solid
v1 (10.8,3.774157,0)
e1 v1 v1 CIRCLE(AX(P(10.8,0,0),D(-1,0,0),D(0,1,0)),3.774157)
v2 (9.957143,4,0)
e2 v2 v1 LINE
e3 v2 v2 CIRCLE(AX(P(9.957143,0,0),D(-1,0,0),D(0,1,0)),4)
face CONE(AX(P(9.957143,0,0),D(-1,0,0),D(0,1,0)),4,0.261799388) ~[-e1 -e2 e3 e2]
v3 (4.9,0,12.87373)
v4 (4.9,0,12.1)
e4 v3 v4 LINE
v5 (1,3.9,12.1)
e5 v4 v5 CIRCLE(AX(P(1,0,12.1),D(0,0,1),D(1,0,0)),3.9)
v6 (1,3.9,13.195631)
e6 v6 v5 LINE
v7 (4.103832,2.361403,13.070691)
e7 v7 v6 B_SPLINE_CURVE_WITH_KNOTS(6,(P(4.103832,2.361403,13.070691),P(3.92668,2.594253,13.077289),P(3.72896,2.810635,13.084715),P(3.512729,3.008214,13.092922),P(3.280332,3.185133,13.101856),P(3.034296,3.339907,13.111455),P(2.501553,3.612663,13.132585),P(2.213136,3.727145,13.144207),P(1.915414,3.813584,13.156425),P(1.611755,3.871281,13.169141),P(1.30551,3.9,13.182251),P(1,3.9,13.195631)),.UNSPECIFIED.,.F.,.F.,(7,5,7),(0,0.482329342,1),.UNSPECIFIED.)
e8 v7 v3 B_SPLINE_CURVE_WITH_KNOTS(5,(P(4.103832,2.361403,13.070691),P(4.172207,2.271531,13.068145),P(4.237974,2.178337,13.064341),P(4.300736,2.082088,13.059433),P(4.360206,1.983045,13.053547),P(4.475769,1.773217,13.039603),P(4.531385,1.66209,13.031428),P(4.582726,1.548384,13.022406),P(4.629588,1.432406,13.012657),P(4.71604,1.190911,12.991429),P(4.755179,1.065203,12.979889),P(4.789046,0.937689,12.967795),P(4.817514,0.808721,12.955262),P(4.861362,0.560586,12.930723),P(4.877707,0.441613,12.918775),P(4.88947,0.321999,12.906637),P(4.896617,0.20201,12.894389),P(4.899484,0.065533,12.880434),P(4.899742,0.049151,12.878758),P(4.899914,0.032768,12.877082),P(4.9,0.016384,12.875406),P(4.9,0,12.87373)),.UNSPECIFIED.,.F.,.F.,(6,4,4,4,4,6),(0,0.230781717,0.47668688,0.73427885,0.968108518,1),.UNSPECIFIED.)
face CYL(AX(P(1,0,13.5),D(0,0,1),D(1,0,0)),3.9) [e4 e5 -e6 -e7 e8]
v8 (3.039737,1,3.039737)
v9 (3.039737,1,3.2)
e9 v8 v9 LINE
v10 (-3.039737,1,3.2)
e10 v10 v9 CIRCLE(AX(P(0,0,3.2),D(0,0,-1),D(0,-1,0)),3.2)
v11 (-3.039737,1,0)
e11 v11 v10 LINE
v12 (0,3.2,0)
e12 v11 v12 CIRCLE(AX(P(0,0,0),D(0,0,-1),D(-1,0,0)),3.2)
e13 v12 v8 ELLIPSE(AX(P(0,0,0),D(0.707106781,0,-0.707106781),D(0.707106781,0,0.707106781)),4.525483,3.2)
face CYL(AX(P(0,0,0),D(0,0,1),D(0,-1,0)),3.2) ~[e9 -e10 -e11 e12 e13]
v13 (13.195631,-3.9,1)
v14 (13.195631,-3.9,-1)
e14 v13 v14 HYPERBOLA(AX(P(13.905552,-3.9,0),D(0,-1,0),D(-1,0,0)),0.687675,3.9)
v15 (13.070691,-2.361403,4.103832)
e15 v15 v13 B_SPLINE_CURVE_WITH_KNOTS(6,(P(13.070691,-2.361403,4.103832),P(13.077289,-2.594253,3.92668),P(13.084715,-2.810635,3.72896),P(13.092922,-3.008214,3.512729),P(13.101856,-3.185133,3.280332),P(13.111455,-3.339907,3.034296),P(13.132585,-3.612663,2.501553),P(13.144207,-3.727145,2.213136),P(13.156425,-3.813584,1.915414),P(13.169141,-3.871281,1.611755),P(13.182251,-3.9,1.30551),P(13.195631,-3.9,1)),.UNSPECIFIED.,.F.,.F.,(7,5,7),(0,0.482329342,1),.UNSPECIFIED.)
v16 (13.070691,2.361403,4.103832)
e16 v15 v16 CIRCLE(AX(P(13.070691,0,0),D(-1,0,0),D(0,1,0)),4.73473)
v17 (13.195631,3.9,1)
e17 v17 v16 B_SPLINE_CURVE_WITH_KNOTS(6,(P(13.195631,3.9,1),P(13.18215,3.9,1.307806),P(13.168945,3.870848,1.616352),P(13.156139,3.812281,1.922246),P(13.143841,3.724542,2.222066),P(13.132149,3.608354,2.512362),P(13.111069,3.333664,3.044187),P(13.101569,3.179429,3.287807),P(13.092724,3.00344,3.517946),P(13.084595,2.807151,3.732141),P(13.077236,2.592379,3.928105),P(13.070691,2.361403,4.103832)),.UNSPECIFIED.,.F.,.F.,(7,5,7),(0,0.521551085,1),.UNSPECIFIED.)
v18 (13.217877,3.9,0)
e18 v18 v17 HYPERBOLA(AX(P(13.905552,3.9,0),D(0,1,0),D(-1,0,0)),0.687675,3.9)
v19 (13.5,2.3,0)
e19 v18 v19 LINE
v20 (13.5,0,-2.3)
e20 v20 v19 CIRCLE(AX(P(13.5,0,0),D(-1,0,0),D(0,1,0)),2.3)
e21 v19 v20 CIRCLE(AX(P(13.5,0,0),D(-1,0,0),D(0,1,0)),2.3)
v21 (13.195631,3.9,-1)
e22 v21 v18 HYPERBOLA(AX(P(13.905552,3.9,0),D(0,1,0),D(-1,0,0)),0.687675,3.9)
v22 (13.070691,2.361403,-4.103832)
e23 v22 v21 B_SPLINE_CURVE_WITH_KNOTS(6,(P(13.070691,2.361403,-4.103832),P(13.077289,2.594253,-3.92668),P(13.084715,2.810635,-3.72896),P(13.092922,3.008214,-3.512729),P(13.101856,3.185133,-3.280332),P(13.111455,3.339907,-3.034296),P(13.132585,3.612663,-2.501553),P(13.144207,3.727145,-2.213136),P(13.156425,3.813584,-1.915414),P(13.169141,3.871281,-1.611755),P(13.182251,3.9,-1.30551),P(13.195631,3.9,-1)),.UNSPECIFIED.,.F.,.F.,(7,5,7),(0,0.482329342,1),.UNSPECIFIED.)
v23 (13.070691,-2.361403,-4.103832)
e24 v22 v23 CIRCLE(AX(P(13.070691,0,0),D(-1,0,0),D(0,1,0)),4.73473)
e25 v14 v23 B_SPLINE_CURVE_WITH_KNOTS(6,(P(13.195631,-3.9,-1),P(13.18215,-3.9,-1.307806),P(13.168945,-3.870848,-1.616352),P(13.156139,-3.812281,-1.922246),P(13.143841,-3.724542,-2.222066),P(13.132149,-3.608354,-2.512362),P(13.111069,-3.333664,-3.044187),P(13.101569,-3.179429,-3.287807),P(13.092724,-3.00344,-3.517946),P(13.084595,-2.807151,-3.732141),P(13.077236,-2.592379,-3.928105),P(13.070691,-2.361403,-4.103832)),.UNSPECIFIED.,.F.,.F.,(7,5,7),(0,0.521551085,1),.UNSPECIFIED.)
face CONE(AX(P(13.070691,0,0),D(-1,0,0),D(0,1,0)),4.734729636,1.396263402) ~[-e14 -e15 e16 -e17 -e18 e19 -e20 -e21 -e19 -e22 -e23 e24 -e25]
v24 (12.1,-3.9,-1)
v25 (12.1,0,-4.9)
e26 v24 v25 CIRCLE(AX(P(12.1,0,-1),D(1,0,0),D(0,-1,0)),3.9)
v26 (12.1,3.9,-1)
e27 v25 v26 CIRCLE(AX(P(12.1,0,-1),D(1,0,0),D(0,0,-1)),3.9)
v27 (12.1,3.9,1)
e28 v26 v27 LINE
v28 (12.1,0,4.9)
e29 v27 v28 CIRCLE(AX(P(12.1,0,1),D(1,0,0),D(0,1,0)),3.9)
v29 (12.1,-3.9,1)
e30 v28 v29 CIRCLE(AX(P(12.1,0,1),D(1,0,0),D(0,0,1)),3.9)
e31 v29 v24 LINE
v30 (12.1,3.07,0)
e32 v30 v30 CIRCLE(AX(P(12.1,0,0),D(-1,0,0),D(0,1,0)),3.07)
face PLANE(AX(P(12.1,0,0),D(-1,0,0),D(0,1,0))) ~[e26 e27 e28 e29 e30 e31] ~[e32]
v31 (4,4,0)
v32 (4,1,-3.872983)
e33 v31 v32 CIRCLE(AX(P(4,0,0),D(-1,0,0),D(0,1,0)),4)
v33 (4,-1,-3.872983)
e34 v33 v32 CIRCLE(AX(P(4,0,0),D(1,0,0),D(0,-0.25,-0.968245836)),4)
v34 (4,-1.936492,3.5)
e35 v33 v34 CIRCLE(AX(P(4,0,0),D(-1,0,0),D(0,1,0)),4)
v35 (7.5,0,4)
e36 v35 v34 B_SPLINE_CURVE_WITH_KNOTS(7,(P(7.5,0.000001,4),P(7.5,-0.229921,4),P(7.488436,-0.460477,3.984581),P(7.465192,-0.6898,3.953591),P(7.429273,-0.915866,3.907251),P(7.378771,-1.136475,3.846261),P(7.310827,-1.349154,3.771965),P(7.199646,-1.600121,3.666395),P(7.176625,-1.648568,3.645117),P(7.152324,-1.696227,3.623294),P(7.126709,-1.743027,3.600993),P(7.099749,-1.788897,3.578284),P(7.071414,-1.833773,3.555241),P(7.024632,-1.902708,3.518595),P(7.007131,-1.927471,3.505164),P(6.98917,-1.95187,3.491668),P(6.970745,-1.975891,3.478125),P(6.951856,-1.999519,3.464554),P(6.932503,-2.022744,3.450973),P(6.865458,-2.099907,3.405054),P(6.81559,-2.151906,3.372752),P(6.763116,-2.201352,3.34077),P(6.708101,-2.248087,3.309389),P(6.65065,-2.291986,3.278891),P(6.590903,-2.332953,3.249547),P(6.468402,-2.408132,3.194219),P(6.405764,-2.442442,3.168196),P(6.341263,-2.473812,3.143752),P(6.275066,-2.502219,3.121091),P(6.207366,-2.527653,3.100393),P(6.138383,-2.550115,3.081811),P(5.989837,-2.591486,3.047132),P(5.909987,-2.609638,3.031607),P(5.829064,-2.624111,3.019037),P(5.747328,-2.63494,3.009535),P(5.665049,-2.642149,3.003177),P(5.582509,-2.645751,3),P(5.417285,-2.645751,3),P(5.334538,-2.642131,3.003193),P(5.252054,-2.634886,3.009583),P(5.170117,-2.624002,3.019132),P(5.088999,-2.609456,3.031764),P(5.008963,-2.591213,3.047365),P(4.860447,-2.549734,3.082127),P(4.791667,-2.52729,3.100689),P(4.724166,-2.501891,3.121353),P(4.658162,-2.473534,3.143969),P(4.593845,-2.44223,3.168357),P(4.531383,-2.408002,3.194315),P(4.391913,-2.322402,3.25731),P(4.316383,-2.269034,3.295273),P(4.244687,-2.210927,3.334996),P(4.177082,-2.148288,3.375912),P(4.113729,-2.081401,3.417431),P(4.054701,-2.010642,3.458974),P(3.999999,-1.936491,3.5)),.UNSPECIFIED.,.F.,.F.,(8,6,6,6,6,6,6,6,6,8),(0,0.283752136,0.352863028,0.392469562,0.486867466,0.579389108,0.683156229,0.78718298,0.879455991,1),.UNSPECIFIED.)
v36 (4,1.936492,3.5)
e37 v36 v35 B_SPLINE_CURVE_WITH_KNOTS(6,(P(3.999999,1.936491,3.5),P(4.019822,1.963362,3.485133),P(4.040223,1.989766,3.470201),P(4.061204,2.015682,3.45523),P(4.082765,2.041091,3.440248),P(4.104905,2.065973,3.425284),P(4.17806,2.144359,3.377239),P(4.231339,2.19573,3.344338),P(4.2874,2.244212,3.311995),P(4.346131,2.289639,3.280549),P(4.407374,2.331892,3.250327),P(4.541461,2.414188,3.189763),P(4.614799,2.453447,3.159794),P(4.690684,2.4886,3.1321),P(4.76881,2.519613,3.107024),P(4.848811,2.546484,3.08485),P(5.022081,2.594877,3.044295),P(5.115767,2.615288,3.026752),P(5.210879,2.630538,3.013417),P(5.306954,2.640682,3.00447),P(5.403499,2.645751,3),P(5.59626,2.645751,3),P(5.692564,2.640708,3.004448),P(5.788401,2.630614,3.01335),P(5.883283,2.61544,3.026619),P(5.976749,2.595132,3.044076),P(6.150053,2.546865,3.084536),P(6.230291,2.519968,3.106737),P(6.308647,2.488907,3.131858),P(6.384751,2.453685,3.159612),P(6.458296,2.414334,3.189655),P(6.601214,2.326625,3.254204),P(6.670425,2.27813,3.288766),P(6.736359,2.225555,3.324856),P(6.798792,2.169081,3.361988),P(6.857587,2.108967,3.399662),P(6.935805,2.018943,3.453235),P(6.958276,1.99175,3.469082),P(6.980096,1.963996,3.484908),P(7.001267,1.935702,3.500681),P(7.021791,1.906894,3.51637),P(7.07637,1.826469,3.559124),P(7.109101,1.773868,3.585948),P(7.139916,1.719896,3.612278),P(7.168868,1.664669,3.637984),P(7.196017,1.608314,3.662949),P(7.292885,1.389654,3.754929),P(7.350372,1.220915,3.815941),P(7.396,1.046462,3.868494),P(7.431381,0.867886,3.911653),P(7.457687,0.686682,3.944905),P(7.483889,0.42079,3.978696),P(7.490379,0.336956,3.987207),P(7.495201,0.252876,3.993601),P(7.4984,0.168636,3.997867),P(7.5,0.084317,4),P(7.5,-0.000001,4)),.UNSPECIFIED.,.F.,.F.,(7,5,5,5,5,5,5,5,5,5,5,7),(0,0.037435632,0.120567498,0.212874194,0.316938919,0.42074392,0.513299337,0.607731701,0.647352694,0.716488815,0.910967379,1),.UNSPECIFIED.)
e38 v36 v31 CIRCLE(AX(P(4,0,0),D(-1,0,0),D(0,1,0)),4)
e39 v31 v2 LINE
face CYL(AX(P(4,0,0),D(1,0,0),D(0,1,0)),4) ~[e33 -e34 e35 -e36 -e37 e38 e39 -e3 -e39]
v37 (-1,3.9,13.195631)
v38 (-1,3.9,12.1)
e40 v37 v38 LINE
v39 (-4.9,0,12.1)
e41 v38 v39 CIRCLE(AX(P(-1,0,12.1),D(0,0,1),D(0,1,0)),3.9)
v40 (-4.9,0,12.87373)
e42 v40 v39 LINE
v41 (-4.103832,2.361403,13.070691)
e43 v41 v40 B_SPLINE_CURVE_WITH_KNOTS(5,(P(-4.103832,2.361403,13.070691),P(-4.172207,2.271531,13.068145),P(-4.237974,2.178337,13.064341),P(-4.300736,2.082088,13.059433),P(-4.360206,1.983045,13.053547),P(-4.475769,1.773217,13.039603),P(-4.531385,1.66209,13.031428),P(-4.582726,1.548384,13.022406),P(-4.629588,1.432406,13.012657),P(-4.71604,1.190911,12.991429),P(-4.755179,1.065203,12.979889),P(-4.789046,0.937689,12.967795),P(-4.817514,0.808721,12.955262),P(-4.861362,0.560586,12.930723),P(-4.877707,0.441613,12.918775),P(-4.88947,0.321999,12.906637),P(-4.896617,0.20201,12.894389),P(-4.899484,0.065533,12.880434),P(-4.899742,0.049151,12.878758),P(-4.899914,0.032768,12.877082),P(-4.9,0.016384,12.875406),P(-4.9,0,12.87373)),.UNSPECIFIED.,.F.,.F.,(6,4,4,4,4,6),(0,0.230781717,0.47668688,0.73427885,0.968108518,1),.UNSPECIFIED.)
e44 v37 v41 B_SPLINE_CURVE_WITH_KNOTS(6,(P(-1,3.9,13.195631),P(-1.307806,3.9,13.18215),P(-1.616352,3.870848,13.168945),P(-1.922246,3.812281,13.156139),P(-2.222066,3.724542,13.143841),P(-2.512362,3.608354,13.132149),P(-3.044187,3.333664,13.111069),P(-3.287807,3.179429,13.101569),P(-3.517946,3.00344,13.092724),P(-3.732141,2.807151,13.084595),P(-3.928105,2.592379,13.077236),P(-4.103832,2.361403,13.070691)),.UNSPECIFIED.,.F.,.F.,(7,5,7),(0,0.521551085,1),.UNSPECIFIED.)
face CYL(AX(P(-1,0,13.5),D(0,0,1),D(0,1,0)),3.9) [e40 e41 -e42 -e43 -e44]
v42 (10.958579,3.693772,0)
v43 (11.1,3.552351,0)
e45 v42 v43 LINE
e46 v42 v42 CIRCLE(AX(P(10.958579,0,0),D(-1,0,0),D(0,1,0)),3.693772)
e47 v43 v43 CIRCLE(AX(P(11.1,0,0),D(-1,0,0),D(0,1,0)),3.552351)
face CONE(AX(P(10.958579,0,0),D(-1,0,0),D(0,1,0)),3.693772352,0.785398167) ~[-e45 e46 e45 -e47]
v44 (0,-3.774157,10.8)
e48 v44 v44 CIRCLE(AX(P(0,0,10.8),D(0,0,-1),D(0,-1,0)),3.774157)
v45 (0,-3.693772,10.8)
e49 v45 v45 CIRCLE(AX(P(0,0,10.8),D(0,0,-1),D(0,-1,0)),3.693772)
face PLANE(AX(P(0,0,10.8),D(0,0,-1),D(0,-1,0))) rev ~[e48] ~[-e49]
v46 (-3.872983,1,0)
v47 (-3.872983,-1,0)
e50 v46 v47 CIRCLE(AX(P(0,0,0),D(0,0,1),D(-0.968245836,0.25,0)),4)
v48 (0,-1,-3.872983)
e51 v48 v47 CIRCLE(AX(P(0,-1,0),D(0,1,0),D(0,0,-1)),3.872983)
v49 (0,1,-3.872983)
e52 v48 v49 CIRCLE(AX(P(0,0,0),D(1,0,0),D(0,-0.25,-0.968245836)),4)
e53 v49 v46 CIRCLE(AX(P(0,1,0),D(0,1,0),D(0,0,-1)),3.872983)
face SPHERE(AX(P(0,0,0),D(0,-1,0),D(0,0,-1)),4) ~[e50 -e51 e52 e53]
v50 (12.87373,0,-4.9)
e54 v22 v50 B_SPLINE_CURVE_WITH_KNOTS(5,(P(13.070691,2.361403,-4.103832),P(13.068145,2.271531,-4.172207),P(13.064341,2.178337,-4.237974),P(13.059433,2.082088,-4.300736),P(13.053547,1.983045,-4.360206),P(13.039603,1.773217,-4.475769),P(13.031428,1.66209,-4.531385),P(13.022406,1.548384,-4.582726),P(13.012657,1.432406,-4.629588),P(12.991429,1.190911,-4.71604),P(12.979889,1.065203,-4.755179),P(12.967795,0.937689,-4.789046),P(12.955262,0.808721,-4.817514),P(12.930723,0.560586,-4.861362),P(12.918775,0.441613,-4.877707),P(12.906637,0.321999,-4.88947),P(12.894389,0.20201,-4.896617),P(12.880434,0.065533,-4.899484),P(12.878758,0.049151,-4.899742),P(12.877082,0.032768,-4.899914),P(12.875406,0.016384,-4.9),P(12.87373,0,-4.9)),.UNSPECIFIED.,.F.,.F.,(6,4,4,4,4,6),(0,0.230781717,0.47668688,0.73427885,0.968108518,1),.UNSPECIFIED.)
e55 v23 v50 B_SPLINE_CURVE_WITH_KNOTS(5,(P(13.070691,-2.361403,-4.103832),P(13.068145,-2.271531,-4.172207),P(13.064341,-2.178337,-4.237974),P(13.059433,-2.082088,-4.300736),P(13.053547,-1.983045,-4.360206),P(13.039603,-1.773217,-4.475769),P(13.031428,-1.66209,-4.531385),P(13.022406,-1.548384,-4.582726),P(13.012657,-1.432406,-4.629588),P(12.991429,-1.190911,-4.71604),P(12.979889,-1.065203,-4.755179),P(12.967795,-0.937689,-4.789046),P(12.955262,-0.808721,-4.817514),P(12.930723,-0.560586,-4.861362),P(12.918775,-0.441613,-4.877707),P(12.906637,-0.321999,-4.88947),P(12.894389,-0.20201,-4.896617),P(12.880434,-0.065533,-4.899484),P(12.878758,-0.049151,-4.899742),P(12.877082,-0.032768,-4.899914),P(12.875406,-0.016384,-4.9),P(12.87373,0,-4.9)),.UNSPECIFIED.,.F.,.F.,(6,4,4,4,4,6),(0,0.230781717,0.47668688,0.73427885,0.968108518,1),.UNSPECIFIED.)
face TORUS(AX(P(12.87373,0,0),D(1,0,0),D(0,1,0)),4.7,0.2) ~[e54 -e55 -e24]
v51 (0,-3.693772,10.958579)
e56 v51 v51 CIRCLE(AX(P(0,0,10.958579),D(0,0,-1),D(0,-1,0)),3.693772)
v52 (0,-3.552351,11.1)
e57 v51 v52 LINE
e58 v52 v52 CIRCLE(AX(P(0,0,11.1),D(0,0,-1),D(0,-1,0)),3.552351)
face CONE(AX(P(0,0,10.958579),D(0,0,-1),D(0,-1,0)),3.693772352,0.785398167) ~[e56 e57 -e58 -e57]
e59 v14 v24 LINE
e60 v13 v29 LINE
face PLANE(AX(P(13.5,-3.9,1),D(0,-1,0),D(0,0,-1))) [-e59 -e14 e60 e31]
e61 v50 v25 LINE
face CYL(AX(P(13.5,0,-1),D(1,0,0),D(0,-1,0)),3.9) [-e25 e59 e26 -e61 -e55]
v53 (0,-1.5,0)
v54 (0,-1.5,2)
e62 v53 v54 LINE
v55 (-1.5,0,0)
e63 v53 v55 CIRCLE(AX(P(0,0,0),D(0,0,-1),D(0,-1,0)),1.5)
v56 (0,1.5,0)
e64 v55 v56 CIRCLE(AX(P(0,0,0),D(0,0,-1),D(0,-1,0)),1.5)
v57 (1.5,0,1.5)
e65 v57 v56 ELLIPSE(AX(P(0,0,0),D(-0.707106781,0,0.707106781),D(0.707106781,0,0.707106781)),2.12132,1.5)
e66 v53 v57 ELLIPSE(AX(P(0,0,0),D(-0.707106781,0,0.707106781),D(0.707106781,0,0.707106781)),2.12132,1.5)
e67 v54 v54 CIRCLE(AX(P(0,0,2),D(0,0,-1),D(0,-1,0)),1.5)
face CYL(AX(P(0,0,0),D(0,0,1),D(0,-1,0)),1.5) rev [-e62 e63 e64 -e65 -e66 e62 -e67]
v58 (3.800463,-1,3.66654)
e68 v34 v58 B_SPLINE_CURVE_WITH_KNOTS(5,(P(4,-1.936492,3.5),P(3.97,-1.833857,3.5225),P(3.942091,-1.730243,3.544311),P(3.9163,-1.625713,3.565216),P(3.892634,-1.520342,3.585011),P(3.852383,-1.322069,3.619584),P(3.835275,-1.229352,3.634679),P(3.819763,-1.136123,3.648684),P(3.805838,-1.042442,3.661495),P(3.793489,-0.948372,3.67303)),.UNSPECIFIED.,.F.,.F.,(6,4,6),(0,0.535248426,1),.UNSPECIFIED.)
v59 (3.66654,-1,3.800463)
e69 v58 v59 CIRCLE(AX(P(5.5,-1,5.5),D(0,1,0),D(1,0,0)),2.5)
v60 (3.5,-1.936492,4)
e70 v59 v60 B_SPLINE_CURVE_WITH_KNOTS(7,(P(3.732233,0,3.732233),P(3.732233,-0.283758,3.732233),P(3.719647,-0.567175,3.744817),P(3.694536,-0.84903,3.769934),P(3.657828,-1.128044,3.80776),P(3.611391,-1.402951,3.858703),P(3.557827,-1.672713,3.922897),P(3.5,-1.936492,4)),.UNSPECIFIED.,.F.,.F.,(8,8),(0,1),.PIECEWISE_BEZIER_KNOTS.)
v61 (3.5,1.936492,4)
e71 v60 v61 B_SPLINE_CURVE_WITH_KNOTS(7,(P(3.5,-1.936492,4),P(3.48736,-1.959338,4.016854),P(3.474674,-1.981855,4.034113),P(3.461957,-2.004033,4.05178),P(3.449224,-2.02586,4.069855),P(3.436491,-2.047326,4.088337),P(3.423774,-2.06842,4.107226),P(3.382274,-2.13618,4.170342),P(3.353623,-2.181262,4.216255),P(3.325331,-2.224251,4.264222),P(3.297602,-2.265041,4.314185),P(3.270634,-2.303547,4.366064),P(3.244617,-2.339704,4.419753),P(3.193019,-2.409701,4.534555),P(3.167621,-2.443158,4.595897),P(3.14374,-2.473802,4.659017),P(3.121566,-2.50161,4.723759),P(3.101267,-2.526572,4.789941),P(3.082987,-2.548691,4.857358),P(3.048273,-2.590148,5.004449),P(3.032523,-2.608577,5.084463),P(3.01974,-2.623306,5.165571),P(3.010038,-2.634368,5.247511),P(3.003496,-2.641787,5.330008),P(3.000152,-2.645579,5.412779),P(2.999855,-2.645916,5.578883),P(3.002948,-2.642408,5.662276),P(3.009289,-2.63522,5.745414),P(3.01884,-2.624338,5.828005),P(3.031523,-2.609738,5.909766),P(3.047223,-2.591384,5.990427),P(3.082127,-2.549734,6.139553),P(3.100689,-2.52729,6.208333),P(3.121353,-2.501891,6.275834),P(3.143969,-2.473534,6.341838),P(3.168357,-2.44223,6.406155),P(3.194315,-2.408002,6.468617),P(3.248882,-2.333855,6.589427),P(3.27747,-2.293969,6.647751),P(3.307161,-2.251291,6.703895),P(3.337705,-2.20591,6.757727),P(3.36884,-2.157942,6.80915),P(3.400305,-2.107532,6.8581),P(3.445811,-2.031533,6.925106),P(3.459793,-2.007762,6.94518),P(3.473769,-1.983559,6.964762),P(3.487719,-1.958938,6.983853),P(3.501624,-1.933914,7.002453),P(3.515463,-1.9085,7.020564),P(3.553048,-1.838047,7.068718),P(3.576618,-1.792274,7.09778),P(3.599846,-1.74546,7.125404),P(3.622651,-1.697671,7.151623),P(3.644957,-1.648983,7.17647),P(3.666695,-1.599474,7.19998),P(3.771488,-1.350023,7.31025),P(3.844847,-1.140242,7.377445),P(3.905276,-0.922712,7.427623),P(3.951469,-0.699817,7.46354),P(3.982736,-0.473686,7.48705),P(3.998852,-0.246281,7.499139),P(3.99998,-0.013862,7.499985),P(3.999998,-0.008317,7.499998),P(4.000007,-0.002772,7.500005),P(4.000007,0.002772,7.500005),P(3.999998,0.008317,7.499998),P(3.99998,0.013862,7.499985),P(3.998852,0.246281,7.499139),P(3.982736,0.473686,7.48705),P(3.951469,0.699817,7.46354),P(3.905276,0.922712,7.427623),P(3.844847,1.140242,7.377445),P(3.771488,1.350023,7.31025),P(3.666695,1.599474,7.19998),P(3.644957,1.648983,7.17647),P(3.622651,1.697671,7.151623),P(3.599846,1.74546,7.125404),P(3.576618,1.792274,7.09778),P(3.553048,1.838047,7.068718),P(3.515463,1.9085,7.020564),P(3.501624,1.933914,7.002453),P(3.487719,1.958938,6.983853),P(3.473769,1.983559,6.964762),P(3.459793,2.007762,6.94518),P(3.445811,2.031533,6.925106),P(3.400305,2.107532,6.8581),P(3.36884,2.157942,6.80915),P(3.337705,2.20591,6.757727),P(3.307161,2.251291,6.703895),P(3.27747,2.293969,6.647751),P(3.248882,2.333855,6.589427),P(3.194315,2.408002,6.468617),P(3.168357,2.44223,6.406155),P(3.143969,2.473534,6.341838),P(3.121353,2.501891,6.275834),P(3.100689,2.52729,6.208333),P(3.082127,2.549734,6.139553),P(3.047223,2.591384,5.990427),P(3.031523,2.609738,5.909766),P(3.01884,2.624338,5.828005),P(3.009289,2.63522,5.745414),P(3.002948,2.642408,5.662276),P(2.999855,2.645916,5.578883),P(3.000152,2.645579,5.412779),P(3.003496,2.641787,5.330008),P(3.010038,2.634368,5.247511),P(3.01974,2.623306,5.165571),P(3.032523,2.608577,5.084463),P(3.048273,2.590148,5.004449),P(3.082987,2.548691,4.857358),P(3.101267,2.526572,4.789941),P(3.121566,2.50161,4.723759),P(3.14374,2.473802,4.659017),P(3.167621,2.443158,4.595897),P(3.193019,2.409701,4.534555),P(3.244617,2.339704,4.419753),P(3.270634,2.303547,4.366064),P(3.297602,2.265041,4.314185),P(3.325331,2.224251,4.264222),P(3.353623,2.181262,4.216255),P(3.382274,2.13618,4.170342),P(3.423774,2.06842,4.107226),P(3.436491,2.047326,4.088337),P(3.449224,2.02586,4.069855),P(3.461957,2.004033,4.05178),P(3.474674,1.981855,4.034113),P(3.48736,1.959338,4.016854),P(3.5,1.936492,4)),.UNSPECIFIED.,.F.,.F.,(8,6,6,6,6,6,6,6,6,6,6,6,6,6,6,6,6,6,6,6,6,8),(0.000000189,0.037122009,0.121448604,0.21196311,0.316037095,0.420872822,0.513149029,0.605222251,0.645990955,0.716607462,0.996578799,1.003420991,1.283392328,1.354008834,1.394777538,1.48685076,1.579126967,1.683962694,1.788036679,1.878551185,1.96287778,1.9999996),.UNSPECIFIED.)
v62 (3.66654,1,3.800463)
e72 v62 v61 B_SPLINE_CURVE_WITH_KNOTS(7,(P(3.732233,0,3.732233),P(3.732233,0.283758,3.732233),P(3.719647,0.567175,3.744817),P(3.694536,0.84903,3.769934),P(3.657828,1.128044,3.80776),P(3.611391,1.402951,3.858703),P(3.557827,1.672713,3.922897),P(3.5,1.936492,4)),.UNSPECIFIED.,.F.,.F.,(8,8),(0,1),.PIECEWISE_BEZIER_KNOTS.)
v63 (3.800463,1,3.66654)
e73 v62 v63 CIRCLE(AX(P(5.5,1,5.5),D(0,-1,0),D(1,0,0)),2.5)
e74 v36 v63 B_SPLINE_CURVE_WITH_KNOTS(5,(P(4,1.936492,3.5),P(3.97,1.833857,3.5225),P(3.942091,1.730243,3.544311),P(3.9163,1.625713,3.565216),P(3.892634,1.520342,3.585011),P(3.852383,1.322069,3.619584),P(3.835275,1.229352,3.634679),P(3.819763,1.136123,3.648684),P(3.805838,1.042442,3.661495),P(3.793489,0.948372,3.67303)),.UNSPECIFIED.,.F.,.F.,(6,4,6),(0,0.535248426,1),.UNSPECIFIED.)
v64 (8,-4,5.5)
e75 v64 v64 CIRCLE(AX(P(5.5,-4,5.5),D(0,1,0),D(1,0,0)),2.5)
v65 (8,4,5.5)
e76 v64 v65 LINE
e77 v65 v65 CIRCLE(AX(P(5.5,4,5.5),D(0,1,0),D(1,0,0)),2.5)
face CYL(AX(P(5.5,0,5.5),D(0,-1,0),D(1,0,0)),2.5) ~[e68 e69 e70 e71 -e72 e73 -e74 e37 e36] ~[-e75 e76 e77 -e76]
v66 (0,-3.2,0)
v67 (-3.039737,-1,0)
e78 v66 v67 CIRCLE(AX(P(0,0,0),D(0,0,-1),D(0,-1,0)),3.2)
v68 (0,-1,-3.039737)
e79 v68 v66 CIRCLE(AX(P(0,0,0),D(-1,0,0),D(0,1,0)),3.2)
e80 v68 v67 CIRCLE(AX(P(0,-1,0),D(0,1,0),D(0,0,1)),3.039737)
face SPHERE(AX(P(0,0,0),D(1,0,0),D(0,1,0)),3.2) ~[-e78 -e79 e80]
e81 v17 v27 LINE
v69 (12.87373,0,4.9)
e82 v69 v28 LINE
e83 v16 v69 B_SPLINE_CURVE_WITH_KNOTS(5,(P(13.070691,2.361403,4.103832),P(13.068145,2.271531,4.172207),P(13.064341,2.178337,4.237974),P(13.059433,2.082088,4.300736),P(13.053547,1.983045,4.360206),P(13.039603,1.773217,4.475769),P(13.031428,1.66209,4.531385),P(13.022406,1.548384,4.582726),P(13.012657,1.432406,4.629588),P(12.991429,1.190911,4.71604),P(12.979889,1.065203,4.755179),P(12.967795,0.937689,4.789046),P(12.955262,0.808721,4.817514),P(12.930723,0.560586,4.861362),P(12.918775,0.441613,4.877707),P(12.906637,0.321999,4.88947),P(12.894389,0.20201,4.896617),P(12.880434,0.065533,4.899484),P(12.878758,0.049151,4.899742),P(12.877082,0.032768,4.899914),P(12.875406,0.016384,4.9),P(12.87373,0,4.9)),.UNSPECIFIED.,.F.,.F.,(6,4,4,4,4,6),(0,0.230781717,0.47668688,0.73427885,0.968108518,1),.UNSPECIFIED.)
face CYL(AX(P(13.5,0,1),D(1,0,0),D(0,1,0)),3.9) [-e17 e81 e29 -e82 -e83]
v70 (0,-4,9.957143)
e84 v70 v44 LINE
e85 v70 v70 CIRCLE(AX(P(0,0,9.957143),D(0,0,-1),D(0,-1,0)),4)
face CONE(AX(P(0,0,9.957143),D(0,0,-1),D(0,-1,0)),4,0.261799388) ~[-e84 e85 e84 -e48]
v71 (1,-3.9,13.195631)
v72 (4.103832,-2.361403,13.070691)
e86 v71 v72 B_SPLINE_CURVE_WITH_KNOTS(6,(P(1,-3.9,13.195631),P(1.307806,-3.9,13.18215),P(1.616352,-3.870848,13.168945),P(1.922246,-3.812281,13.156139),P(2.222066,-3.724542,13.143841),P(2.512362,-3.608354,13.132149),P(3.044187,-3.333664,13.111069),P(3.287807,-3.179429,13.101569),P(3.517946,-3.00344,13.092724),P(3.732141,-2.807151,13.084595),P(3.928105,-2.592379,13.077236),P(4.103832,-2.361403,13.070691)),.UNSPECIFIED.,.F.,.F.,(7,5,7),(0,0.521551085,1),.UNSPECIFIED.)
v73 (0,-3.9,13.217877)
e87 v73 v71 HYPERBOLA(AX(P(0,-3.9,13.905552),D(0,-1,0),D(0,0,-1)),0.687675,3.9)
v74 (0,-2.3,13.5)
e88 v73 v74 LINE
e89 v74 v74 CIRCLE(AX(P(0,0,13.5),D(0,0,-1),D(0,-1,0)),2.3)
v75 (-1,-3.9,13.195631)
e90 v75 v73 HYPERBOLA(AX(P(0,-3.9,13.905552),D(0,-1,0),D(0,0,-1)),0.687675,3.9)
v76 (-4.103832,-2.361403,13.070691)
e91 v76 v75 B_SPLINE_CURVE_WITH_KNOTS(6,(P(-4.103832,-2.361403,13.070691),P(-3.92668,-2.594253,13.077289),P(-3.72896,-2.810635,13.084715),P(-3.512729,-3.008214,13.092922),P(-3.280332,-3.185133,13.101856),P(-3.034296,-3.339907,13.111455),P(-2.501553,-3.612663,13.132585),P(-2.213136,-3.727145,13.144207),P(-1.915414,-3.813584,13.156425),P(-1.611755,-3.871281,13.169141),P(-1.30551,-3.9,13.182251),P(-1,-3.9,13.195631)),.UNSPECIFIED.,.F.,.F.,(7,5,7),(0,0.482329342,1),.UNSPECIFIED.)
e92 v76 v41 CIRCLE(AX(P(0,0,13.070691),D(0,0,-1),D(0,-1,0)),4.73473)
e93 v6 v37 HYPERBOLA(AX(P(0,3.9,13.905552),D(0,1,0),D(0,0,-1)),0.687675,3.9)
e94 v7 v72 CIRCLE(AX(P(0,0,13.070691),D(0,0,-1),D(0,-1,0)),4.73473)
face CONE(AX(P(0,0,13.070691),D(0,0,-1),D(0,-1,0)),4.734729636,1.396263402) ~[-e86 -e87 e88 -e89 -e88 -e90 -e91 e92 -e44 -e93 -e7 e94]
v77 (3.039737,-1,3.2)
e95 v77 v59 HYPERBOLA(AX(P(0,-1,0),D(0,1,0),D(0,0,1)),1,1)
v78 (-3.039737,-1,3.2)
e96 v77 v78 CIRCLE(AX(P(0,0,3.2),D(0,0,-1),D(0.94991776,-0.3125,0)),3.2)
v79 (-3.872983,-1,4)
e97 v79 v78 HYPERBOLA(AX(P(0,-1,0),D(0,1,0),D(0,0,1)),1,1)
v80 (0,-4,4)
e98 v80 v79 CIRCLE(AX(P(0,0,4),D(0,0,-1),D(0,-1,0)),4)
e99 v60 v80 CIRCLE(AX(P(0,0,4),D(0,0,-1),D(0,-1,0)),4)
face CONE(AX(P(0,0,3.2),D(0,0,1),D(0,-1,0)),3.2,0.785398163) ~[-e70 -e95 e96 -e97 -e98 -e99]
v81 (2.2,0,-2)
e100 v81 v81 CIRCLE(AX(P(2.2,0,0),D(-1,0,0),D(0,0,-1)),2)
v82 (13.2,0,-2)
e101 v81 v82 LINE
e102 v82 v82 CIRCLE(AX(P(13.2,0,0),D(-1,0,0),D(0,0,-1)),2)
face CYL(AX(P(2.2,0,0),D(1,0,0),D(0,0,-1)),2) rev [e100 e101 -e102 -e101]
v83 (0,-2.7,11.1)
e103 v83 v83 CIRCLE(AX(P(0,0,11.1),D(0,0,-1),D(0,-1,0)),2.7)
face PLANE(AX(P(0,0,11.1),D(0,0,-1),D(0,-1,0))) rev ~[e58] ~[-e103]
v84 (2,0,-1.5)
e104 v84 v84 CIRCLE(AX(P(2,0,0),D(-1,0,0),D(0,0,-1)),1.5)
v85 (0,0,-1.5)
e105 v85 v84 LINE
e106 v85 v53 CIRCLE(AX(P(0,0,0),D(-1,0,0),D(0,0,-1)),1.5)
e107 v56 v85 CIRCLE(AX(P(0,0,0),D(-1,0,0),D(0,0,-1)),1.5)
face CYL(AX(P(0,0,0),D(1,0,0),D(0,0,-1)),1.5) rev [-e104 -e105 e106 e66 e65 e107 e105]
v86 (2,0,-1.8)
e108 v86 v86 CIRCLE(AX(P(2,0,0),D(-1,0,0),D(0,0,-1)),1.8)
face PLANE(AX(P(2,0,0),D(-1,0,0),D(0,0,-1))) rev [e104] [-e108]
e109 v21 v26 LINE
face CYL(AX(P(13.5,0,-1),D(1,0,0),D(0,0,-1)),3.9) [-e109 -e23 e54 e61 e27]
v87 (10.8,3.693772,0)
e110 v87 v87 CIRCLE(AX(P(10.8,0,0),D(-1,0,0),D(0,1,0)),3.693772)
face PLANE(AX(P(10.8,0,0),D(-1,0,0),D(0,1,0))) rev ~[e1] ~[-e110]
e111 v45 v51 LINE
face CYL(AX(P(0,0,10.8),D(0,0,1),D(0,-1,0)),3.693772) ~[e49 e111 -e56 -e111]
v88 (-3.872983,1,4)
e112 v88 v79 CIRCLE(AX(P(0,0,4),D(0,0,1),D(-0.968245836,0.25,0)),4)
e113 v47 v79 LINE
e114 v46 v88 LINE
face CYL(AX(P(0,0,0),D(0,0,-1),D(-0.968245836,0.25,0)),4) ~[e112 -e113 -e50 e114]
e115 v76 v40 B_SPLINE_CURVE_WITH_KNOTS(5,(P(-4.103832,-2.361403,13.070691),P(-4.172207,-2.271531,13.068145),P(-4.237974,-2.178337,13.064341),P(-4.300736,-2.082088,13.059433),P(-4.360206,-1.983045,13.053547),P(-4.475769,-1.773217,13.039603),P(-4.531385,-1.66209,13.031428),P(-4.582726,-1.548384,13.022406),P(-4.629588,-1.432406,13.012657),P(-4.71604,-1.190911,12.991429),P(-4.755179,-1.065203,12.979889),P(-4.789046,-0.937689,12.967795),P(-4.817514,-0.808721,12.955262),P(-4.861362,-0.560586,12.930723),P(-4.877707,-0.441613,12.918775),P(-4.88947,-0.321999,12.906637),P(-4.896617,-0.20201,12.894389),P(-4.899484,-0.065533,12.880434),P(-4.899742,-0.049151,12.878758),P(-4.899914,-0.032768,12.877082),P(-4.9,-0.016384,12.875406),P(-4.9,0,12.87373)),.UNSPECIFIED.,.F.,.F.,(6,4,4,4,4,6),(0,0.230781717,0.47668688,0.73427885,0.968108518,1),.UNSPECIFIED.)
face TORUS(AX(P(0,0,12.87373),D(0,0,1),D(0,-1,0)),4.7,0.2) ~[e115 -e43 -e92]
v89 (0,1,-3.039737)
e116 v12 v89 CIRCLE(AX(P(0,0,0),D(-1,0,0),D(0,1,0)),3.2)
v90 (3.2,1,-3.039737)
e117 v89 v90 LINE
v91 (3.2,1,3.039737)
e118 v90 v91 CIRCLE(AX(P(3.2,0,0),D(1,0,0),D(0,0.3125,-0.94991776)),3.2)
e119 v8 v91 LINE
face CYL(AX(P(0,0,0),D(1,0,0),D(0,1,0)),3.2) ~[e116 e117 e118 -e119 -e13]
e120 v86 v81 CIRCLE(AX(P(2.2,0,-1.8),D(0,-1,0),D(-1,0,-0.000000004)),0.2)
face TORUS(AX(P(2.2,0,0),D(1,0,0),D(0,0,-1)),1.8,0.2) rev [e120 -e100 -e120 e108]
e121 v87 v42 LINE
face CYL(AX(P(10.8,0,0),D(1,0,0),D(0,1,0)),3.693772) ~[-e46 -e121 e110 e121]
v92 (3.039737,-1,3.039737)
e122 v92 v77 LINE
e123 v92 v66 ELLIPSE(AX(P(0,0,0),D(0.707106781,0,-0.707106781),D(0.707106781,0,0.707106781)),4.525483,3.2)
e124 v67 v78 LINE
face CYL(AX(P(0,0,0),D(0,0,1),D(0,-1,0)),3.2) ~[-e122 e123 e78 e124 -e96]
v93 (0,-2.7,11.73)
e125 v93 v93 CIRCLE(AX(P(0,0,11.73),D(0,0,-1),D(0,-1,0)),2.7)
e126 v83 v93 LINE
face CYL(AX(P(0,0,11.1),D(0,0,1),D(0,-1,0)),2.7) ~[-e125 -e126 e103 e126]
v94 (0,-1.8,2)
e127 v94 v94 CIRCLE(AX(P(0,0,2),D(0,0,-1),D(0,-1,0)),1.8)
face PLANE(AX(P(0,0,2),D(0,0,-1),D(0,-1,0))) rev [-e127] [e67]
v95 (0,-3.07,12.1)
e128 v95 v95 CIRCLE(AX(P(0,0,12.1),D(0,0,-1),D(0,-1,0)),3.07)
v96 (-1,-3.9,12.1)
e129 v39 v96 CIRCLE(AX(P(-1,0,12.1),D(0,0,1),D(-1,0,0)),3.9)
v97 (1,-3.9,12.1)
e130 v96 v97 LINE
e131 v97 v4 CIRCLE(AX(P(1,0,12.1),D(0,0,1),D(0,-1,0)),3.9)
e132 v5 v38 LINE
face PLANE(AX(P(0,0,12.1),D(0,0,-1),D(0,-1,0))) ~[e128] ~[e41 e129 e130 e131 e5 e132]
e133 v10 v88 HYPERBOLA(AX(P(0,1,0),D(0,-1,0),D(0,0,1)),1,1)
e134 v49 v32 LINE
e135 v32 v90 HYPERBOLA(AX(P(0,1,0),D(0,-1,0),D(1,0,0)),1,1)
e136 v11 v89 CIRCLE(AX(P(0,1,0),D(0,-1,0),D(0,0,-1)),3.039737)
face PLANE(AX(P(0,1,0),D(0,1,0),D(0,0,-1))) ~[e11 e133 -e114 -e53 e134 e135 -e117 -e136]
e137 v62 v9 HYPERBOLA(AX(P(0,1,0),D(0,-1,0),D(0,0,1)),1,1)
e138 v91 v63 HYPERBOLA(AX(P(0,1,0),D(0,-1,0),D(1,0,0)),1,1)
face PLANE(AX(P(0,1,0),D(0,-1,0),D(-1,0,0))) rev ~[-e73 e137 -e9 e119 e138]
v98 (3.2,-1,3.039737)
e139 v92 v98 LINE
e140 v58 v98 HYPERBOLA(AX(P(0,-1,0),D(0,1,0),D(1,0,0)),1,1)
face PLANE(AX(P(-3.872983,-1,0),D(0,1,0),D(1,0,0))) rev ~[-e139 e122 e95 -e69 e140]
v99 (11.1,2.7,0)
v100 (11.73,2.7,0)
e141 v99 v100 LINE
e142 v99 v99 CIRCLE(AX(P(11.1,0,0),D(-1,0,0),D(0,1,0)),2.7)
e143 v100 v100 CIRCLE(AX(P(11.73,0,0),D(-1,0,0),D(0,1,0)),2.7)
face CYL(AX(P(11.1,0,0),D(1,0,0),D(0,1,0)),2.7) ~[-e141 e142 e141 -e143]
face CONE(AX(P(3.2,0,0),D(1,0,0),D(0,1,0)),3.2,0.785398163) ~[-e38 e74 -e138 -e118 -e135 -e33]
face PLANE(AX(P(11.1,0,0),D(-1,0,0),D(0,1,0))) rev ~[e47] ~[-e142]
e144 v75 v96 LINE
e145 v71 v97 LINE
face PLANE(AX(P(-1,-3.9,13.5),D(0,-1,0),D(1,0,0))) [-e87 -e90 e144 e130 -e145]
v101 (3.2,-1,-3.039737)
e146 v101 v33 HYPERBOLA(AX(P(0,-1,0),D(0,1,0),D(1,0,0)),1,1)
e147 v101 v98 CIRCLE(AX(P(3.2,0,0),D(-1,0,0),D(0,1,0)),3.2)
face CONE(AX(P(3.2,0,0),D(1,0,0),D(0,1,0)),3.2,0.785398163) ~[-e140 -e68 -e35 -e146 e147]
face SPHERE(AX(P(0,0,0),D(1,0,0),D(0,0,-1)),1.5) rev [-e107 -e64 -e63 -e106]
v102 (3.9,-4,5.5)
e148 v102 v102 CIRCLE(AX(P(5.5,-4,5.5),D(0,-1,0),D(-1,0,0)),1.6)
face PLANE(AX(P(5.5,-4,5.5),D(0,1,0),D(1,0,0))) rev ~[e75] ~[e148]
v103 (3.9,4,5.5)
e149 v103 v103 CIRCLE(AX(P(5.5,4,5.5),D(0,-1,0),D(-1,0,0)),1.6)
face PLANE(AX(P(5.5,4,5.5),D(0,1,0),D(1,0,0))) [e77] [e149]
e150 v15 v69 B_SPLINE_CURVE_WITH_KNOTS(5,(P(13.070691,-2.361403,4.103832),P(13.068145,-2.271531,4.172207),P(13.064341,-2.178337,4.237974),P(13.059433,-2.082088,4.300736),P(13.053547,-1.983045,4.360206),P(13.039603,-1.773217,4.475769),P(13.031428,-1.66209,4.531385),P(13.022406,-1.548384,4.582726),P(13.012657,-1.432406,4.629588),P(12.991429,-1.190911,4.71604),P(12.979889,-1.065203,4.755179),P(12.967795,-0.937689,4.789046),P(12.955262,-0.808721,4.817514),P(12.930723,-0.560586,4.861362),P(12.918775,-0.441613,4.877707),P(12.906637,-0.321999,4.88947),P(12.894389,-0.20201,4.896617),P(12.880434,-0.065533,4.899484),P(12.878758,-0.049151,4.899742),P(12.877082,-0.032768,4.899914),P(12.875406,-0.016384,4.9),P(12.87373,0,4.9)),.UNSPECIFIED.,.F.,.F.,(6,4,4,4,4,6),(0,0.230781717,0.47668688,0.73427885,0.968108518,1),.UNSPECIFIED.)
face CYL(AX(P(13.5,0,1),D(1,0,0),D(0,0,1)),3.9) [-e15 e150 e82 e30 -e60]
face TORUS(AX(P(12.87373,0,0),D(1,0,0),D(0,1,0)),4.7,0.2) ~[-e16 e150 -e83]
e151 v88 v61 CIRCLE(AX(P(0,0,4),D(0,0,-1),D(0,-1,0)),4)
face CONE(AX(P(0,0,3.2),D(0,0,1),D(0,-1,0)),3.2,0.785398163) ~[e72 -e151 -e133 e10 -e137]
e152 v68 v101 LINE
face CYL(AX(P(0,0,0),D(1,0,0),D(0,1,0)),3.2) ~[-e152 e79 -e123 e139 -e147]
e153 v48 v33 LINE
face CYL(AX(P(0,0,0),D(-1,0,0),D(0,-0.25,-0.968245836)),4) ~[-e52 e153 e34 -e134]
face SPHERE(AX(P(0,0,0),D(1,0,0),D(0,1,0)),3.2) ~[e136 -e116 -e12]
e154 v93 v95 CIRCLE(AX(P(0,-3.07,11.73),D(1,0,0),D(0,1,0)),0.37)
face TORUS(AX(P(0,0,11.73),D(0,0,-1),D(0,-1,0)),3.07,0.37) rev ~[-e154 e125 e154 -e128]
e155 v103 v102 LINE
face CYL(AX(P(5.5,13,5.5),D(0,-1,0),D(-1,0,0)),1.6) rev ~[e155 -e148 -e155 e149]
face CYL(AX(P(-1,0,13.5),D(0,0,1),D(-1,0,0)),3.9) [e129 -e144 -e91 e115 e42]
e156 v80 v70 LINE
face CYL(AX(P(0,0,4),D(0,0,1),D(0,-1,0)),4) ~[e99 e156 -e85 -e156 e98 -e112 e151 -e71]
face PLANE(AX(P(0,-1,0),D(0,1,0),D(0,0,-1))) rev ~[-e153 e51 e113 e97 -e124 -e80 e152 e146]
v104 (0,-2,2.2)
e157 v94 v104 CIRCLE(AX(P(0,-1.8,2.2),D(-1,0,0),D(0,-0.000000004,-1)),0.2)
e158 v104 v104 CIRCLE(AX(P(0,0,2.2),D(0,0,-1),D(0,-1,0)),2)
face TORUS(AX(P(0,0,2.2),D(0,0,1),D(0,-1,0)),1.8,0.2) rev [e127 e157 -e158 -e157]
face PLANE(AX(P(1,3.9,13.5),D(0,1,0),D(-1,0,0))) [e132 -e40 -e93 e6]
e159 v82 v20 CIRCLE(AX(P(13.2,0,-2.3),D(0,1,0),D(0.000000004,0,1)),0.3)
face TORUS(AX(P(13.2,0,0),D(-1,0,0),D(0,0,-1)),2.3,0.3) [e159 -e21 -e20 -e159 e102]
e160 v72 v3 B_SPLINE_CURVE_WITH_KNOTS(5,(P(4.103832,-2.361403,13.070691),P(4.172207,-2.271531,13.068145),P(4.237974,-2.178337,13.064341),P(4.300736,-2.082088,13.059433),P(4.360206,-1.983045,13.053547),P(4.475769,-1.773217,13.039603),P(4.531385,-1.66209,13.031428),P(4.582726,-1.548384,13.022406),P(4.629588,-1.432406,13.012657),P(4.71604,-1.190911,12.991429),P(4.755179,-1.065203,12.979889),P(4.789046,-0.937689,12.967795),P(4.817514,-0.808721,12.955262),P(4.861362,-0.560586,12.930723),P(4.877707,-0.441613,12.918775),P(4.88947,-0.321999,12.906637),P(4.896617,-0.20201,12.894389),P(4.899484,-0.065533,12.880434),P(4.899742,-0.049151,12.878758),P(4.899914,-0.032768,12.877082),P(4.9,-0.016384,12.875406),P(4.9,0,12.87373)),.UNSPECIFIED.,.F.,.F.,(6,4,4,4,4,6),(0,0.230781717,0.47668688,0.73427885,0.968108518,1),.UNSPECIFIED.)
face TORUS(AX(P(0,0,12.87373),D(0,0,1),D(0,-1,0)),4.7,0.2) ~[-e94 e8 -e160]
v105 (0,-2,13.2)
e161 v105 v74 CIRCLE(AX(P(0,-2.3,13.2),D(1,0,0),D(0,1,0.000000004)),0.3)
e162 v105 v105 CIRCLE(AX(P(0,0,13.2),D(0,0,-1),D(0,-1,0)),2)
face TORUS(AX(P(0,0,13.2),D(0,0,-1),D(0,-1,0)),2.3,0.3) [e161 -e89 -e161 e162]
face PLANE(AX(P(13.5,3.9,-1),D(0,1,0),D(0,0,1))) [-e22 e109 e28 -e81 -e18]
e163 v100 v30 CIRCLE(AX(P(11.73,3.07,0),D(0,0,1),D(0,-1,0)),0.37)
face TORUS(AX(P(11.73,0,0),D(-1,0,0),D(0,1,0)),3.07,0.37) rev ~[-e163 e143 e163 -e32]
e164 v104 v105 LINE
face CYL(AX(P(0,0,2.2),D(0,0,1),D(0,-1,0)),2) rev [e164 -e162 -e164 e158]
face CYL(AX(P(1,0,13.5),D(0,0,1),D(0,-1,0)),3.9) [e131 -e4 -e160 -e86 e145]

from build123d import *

# Parameters (mm, degrees)
SCHNITT_LINEAR_AUSTRAGEN1_DEPTH      = 1.4
AUFSATZ_LINEAR_AUSTRAGEN1_DEPTH      = 4
AUFSATZ_LINEAR_AUSTRAGEN2_DEPTH      = 4
SCHNITT_LINEAR_AUSTRAGEN2_DEPTH      = 1.4
SKIZZE9_R                            = 2.5
AUFSATZ_LINEAR_AUSTRAGEN3_DEPTH      = 4
AUFSATZ_LINEAR_AUSTRAGEN3_DEPTH_BACK = 4
BOHRUNG1_D                           = 3.2
BOHRUNG1_DEPTH                       = 9
ROTATION3_ANGLE                      = 90


with BuildPart() as part:
    # Skizze1 → Rotation1 (revolve)
    with BuildSketch(Plane.XY):
        with BuildLine():
            Line((0, 3.2), (3.2, 3.2))
            Line((3.2, 3.2), (4, 4))
            Line((4, 4), (9.957142857, 4))
            Line((9.957142857, 4), (10.8, 3.774157109))
            Line((10.8, 3.774157109), (10.8, 3.693772352))
            Line((10.8, 3.693772352), (10.958578644, 3.693772352))
            Line((10.958578644, 3.693772352), (11.1, 3.552350995))
            Line((11.1, 3.552350995), (11.1, 2.7))
            Line((11.1, 2.7), (11.73, 2.7))
            ThreePointArc((11.73, 2.7), (11.991629509, 2.808370491), (12.1, 3.07))
            Line((12.1, 3.07), (12.1, 4.9))
            Line((12.1, 4.9), (12.873729924, 4.9))
            ThreePointArc((12.873729924, 4.9), (13.002287446, 4.853208889), (13.070691475, 4.734729636))
            Line((13.070691475, 4.734729636), (13.5, 2.3))
            Line((13.5, 2.3), (13.5, 0))
            Line((13.5, 0), (-3.2, 0))
            ThreePointArc((-3.2, 0), (-2.2627417, 2.2627417), (0, 3.2))
        make_face()
    revolve(axis=Axis((13.5, 0, 0), (-1, 0, 0)))

    # Skizze2 → Schnitt-Linear austragen1 (cut)
    with BuildSketch(Plane(origin=(13.5, 0, 0), x_dir=(0, 0, -1), z_dir=(1, 0, 0))):
        Polygon((-5.88, -3.394819583), (0, -6.789639166), (5.88, -3.394819583), (5.88, 3.394819583), (0, 6.789639166), (-5.88, 3.394819583), align=None)
        with BuildLine():
            Line((-1, -3.9), (1, -3.9))
            ThreePointArc((1, -3.9), (3.757716447, -2.757716447), (4.9, 0))
            ThreePointArc((4.9, 0), (3.757716447, 2.757716447), (1, 3.9))
            Line((1, 3.9), (-1, 3.9))
            ThreePointArc((-1, 3.9), (-3.757716447, 2.757716447), (-4.9, 0))
            ThreePointArc((-4.9, 0), (-3.757716447, -2.757716447), (-1, -3.9))
        make_face(mode=Mode.SUBTRACT)
    extrude(amount=-SCHNITT_LINEAR_AUSTRAGEN1_DEPTH, mode=Mode.SUBTRACT)

    # Skizze3 → Aufsatz-Linear austragen1 (add)
    with BuildSketch(Plane(origin=(0, 0, 0), x_dir=(0, 0, -1), z_dir=(1, 0, 0))):
        with BuildLine():
            Line((-3.872983346, -1), (3.872983346, -1))
            ThreePointArc((3.872983346, -1), (4, 0), (3.872983346, 1))
            Line((3.872983346, 1), (-3.872983346, 1))
            ThreePointArc((-3.872983346, 1), (-4, 0), (-3.872983346, -1))
        make_face()
    extrude(amount=AUFSATZ_LINEAR_AUSTRAGEN1_DEPTH)

    # Skizze5 → Aufsatz-Linear austragen2 (add)
    with BuildSketch(Plane.XY):
        with BuildLine():
            Line((-3.872983346, -1), (0, -1))
            Line((0, -1), (0, 1))
            Line((0, 1), (-3.872983346, 1))
            ThreePointArc((-3.872983346, 1), (-4, 0), (-3.872983346, -1))
        make_face()
    extrude(amount=AUFSATZ_LINEAR_AUSTRAGEN2_DEPTH)

    # Skizze6 → Rotation2 (revolve)
    with BuildSketch(Plane(origin=(0, 0, 0), x_dir=(0, 0, -1), z_dir=(1, 0, 0))):
        with BuildLine():
            Line((0, 0), (0, -3.2))
            Line((0, -3.2), (-3.2, -3.2))
            Line((-3.2, -3.2), (-4, -4))
            Line((-4, -4), (-9.957142857, -4))
            Line((-9.957142857, -4), (-10.8, -3.774157109))
            Line((-10.8, -3.774157109), (-10.8, -3.693772352))
            Line((-10.8, -3.693772352), (-10.958578644, -3.693772352))
            Line((-10.958578644, -3.693772352), (-11.1, -3.552350995))
            Line((-11.1, -3.552350995), (-11.1, -2.7))
            Line((-11.1, -2.7), (-11.73, -2.7))
            ThreePointArc((-11.73, -2.7), (-11.991629509, -2.808370491), (-12.1, -3.07))
            Line((-12.1, -3.07), (-12.1, -4.9))
            Line((-12.1, -4.9), (-12.873729924, -4.9))
            ThreePointArc((-12.873729924, -4.9), (-13.002287446, -4.853208889), (-13.070691475, -4.734729636))
            Line((-13.070691475, -4.734729636), (-13.5, -2.3))
            Line((-13.5, -2.3), (-13.5, 0))
            Line((-13.5, 0), (0, 0))
        make_face()
    revolve(axis=Axis((0, 0, 13.5), (0, 0, -1)))

    # Skizze7 → Schnitt-Linear austragen2 (cut)
    with BuildSketch(Plane.XY.offset(13.5)):
        Polygon((-5.88, -3.394819583), (0, -6.789639166), (5.88, -3.394819583), (5.88, 3.394819583), (0, 6.789639166), (-5.88, 3.394819583), align=None)
        with BuildLine():
            Line((-1, -3.9), (1, -3.9))
            ThreePointArc((1, -3.9), (3.757716447, -2.757716447), (4.9, 0))
            ThreePointArc((4.9, 0), (3.757716447, 2.757716447), (1, 3.9))
            Line((1, 3.9), (-1, 3.9))
            ThreePointArc((-1, 3.9), (-3.757716447, 2.757716447), (-4.9, 0))
            ThreePointArc((-4.9, 0), (-3.757716447, -2.757716447), (-1, -3.9))
        make_face(mode=Mode.SUBTRACT)
    extrude(amount=-SCHNITT_LINEAR_AUSTRAGEN2_DEPTH, mode=Mode.SUBTRACT)

    # Skizze9 → Aufsatz-Linear austragen3 (add, two sides)
    with BuildSketch(Plane(origin=(0, 0, 0), x_dir=(1, 0, 0), z_dir=(0, 1, 0))) as aufsatz_linear_austragen3_sk:
        with Locations((5.5, -5.5)):
            Circle(SKIZZE9_R)
    extrude(amount=AUFSATZ_LINEAR_AUSTRAGEN3_DEPTH)
    extrude(aufsatz_linear_austragen3_sk.sketch, amount=-AUFSATZ_LINEAR_AUSTRAGEN3_DEPTH_BACK)

    # Bohrung1
    with Locations(Plane(origin=(0, 4, 0), x_dir=(1, 0, 0), z_dir=(0, 1, 0))):
        with Locations((5.5, -5.5)):
            Hole(BOHRUNG1_D / 2, depth=BOHRUNG1_DEPTH)

    # Skizze12 → Rotation3 (revolve)
    with BuildSketch(Plane(origin=(0, 0, 0), x_dir=(0, 0, -1), z_dir=(1, 0, 0))):
        with BuildLine():
            Line((0, 1), (3.872983346, 1))
            ThreePointArc((3.872983346, 1), (4, 0), (3.872983346, -1))
            Line((3.872983346, -1), (0, -1))
            Line((0, -1), (0, 1))
        make_face()
    revolve(axis=Axis((0, -1, 0), (0, 1, 0)), revolution_arc=ROTATION3_ANGLE)

    # Skizze8 → Schnitt-Rotation1 (revolve, cut)
    with BuildSketch(Plane(origin=(0, 0, 0), x_dir=(0, 0, -1), z_dir=(1, 0, 0))):
        with BuildLine():
            Line((0, 0), (0, -1.5))
            Line((0, -1.5), (-2, -1.5))
            Line((-2, -1.5), (-2, -1.8))
            ThreePointArc((-2, -1.8), (-2.058578644, -1.941421356), (-2.2, -2))
            Line((-2.2, -2), (-13.2, -2))
            ThreePointArc((-13.2, -2), (-13.412132034, -2.087867966), (-13.5, -2.3))
            Line((-13.5, -2.3), (-13.5, 0))
            Line((-13.5, 0), (0, 0))
        make_face()
    revolve(axis=Axis((0, 0, 13.5), (0, 0, -1)), mode=Mode.SUBTRACT)

    # Skizze4 → Schnitt-Rotation2 (revolve, cut)
    with BuildSketch(Plane(origin=(0, 0, 0), x_dir=(1, 0, 0), z_dir=(0, 1, 0))):
        with BuildLine():
            Line((0, 1.5), (2, 1.5))
            Line((2, 1.5), (2, 1.8))
            ThreePointArc((2, 1.8), (2.058578644, 1.941421356), (2.2, 2))
            Line((2.2, 2), (13.2, 2))
            ThreePointArc((13.2, 2), (13.412132034, 2.087867966), (13.5, 2.3))
            Line((13.5, 2.3), (13.5, 0))
            Line((13.5, 0), (-1.5, 0))
            ThreePointArc((-1.5, 0), (-1.060660172, 1.060660172), (0, 1.5))
        make_face()
    revolve(axis=Axis((13.5, 0, 0), (-1, 0, 0)), mode=Mode.SUBTRACT)


solid = part.part
